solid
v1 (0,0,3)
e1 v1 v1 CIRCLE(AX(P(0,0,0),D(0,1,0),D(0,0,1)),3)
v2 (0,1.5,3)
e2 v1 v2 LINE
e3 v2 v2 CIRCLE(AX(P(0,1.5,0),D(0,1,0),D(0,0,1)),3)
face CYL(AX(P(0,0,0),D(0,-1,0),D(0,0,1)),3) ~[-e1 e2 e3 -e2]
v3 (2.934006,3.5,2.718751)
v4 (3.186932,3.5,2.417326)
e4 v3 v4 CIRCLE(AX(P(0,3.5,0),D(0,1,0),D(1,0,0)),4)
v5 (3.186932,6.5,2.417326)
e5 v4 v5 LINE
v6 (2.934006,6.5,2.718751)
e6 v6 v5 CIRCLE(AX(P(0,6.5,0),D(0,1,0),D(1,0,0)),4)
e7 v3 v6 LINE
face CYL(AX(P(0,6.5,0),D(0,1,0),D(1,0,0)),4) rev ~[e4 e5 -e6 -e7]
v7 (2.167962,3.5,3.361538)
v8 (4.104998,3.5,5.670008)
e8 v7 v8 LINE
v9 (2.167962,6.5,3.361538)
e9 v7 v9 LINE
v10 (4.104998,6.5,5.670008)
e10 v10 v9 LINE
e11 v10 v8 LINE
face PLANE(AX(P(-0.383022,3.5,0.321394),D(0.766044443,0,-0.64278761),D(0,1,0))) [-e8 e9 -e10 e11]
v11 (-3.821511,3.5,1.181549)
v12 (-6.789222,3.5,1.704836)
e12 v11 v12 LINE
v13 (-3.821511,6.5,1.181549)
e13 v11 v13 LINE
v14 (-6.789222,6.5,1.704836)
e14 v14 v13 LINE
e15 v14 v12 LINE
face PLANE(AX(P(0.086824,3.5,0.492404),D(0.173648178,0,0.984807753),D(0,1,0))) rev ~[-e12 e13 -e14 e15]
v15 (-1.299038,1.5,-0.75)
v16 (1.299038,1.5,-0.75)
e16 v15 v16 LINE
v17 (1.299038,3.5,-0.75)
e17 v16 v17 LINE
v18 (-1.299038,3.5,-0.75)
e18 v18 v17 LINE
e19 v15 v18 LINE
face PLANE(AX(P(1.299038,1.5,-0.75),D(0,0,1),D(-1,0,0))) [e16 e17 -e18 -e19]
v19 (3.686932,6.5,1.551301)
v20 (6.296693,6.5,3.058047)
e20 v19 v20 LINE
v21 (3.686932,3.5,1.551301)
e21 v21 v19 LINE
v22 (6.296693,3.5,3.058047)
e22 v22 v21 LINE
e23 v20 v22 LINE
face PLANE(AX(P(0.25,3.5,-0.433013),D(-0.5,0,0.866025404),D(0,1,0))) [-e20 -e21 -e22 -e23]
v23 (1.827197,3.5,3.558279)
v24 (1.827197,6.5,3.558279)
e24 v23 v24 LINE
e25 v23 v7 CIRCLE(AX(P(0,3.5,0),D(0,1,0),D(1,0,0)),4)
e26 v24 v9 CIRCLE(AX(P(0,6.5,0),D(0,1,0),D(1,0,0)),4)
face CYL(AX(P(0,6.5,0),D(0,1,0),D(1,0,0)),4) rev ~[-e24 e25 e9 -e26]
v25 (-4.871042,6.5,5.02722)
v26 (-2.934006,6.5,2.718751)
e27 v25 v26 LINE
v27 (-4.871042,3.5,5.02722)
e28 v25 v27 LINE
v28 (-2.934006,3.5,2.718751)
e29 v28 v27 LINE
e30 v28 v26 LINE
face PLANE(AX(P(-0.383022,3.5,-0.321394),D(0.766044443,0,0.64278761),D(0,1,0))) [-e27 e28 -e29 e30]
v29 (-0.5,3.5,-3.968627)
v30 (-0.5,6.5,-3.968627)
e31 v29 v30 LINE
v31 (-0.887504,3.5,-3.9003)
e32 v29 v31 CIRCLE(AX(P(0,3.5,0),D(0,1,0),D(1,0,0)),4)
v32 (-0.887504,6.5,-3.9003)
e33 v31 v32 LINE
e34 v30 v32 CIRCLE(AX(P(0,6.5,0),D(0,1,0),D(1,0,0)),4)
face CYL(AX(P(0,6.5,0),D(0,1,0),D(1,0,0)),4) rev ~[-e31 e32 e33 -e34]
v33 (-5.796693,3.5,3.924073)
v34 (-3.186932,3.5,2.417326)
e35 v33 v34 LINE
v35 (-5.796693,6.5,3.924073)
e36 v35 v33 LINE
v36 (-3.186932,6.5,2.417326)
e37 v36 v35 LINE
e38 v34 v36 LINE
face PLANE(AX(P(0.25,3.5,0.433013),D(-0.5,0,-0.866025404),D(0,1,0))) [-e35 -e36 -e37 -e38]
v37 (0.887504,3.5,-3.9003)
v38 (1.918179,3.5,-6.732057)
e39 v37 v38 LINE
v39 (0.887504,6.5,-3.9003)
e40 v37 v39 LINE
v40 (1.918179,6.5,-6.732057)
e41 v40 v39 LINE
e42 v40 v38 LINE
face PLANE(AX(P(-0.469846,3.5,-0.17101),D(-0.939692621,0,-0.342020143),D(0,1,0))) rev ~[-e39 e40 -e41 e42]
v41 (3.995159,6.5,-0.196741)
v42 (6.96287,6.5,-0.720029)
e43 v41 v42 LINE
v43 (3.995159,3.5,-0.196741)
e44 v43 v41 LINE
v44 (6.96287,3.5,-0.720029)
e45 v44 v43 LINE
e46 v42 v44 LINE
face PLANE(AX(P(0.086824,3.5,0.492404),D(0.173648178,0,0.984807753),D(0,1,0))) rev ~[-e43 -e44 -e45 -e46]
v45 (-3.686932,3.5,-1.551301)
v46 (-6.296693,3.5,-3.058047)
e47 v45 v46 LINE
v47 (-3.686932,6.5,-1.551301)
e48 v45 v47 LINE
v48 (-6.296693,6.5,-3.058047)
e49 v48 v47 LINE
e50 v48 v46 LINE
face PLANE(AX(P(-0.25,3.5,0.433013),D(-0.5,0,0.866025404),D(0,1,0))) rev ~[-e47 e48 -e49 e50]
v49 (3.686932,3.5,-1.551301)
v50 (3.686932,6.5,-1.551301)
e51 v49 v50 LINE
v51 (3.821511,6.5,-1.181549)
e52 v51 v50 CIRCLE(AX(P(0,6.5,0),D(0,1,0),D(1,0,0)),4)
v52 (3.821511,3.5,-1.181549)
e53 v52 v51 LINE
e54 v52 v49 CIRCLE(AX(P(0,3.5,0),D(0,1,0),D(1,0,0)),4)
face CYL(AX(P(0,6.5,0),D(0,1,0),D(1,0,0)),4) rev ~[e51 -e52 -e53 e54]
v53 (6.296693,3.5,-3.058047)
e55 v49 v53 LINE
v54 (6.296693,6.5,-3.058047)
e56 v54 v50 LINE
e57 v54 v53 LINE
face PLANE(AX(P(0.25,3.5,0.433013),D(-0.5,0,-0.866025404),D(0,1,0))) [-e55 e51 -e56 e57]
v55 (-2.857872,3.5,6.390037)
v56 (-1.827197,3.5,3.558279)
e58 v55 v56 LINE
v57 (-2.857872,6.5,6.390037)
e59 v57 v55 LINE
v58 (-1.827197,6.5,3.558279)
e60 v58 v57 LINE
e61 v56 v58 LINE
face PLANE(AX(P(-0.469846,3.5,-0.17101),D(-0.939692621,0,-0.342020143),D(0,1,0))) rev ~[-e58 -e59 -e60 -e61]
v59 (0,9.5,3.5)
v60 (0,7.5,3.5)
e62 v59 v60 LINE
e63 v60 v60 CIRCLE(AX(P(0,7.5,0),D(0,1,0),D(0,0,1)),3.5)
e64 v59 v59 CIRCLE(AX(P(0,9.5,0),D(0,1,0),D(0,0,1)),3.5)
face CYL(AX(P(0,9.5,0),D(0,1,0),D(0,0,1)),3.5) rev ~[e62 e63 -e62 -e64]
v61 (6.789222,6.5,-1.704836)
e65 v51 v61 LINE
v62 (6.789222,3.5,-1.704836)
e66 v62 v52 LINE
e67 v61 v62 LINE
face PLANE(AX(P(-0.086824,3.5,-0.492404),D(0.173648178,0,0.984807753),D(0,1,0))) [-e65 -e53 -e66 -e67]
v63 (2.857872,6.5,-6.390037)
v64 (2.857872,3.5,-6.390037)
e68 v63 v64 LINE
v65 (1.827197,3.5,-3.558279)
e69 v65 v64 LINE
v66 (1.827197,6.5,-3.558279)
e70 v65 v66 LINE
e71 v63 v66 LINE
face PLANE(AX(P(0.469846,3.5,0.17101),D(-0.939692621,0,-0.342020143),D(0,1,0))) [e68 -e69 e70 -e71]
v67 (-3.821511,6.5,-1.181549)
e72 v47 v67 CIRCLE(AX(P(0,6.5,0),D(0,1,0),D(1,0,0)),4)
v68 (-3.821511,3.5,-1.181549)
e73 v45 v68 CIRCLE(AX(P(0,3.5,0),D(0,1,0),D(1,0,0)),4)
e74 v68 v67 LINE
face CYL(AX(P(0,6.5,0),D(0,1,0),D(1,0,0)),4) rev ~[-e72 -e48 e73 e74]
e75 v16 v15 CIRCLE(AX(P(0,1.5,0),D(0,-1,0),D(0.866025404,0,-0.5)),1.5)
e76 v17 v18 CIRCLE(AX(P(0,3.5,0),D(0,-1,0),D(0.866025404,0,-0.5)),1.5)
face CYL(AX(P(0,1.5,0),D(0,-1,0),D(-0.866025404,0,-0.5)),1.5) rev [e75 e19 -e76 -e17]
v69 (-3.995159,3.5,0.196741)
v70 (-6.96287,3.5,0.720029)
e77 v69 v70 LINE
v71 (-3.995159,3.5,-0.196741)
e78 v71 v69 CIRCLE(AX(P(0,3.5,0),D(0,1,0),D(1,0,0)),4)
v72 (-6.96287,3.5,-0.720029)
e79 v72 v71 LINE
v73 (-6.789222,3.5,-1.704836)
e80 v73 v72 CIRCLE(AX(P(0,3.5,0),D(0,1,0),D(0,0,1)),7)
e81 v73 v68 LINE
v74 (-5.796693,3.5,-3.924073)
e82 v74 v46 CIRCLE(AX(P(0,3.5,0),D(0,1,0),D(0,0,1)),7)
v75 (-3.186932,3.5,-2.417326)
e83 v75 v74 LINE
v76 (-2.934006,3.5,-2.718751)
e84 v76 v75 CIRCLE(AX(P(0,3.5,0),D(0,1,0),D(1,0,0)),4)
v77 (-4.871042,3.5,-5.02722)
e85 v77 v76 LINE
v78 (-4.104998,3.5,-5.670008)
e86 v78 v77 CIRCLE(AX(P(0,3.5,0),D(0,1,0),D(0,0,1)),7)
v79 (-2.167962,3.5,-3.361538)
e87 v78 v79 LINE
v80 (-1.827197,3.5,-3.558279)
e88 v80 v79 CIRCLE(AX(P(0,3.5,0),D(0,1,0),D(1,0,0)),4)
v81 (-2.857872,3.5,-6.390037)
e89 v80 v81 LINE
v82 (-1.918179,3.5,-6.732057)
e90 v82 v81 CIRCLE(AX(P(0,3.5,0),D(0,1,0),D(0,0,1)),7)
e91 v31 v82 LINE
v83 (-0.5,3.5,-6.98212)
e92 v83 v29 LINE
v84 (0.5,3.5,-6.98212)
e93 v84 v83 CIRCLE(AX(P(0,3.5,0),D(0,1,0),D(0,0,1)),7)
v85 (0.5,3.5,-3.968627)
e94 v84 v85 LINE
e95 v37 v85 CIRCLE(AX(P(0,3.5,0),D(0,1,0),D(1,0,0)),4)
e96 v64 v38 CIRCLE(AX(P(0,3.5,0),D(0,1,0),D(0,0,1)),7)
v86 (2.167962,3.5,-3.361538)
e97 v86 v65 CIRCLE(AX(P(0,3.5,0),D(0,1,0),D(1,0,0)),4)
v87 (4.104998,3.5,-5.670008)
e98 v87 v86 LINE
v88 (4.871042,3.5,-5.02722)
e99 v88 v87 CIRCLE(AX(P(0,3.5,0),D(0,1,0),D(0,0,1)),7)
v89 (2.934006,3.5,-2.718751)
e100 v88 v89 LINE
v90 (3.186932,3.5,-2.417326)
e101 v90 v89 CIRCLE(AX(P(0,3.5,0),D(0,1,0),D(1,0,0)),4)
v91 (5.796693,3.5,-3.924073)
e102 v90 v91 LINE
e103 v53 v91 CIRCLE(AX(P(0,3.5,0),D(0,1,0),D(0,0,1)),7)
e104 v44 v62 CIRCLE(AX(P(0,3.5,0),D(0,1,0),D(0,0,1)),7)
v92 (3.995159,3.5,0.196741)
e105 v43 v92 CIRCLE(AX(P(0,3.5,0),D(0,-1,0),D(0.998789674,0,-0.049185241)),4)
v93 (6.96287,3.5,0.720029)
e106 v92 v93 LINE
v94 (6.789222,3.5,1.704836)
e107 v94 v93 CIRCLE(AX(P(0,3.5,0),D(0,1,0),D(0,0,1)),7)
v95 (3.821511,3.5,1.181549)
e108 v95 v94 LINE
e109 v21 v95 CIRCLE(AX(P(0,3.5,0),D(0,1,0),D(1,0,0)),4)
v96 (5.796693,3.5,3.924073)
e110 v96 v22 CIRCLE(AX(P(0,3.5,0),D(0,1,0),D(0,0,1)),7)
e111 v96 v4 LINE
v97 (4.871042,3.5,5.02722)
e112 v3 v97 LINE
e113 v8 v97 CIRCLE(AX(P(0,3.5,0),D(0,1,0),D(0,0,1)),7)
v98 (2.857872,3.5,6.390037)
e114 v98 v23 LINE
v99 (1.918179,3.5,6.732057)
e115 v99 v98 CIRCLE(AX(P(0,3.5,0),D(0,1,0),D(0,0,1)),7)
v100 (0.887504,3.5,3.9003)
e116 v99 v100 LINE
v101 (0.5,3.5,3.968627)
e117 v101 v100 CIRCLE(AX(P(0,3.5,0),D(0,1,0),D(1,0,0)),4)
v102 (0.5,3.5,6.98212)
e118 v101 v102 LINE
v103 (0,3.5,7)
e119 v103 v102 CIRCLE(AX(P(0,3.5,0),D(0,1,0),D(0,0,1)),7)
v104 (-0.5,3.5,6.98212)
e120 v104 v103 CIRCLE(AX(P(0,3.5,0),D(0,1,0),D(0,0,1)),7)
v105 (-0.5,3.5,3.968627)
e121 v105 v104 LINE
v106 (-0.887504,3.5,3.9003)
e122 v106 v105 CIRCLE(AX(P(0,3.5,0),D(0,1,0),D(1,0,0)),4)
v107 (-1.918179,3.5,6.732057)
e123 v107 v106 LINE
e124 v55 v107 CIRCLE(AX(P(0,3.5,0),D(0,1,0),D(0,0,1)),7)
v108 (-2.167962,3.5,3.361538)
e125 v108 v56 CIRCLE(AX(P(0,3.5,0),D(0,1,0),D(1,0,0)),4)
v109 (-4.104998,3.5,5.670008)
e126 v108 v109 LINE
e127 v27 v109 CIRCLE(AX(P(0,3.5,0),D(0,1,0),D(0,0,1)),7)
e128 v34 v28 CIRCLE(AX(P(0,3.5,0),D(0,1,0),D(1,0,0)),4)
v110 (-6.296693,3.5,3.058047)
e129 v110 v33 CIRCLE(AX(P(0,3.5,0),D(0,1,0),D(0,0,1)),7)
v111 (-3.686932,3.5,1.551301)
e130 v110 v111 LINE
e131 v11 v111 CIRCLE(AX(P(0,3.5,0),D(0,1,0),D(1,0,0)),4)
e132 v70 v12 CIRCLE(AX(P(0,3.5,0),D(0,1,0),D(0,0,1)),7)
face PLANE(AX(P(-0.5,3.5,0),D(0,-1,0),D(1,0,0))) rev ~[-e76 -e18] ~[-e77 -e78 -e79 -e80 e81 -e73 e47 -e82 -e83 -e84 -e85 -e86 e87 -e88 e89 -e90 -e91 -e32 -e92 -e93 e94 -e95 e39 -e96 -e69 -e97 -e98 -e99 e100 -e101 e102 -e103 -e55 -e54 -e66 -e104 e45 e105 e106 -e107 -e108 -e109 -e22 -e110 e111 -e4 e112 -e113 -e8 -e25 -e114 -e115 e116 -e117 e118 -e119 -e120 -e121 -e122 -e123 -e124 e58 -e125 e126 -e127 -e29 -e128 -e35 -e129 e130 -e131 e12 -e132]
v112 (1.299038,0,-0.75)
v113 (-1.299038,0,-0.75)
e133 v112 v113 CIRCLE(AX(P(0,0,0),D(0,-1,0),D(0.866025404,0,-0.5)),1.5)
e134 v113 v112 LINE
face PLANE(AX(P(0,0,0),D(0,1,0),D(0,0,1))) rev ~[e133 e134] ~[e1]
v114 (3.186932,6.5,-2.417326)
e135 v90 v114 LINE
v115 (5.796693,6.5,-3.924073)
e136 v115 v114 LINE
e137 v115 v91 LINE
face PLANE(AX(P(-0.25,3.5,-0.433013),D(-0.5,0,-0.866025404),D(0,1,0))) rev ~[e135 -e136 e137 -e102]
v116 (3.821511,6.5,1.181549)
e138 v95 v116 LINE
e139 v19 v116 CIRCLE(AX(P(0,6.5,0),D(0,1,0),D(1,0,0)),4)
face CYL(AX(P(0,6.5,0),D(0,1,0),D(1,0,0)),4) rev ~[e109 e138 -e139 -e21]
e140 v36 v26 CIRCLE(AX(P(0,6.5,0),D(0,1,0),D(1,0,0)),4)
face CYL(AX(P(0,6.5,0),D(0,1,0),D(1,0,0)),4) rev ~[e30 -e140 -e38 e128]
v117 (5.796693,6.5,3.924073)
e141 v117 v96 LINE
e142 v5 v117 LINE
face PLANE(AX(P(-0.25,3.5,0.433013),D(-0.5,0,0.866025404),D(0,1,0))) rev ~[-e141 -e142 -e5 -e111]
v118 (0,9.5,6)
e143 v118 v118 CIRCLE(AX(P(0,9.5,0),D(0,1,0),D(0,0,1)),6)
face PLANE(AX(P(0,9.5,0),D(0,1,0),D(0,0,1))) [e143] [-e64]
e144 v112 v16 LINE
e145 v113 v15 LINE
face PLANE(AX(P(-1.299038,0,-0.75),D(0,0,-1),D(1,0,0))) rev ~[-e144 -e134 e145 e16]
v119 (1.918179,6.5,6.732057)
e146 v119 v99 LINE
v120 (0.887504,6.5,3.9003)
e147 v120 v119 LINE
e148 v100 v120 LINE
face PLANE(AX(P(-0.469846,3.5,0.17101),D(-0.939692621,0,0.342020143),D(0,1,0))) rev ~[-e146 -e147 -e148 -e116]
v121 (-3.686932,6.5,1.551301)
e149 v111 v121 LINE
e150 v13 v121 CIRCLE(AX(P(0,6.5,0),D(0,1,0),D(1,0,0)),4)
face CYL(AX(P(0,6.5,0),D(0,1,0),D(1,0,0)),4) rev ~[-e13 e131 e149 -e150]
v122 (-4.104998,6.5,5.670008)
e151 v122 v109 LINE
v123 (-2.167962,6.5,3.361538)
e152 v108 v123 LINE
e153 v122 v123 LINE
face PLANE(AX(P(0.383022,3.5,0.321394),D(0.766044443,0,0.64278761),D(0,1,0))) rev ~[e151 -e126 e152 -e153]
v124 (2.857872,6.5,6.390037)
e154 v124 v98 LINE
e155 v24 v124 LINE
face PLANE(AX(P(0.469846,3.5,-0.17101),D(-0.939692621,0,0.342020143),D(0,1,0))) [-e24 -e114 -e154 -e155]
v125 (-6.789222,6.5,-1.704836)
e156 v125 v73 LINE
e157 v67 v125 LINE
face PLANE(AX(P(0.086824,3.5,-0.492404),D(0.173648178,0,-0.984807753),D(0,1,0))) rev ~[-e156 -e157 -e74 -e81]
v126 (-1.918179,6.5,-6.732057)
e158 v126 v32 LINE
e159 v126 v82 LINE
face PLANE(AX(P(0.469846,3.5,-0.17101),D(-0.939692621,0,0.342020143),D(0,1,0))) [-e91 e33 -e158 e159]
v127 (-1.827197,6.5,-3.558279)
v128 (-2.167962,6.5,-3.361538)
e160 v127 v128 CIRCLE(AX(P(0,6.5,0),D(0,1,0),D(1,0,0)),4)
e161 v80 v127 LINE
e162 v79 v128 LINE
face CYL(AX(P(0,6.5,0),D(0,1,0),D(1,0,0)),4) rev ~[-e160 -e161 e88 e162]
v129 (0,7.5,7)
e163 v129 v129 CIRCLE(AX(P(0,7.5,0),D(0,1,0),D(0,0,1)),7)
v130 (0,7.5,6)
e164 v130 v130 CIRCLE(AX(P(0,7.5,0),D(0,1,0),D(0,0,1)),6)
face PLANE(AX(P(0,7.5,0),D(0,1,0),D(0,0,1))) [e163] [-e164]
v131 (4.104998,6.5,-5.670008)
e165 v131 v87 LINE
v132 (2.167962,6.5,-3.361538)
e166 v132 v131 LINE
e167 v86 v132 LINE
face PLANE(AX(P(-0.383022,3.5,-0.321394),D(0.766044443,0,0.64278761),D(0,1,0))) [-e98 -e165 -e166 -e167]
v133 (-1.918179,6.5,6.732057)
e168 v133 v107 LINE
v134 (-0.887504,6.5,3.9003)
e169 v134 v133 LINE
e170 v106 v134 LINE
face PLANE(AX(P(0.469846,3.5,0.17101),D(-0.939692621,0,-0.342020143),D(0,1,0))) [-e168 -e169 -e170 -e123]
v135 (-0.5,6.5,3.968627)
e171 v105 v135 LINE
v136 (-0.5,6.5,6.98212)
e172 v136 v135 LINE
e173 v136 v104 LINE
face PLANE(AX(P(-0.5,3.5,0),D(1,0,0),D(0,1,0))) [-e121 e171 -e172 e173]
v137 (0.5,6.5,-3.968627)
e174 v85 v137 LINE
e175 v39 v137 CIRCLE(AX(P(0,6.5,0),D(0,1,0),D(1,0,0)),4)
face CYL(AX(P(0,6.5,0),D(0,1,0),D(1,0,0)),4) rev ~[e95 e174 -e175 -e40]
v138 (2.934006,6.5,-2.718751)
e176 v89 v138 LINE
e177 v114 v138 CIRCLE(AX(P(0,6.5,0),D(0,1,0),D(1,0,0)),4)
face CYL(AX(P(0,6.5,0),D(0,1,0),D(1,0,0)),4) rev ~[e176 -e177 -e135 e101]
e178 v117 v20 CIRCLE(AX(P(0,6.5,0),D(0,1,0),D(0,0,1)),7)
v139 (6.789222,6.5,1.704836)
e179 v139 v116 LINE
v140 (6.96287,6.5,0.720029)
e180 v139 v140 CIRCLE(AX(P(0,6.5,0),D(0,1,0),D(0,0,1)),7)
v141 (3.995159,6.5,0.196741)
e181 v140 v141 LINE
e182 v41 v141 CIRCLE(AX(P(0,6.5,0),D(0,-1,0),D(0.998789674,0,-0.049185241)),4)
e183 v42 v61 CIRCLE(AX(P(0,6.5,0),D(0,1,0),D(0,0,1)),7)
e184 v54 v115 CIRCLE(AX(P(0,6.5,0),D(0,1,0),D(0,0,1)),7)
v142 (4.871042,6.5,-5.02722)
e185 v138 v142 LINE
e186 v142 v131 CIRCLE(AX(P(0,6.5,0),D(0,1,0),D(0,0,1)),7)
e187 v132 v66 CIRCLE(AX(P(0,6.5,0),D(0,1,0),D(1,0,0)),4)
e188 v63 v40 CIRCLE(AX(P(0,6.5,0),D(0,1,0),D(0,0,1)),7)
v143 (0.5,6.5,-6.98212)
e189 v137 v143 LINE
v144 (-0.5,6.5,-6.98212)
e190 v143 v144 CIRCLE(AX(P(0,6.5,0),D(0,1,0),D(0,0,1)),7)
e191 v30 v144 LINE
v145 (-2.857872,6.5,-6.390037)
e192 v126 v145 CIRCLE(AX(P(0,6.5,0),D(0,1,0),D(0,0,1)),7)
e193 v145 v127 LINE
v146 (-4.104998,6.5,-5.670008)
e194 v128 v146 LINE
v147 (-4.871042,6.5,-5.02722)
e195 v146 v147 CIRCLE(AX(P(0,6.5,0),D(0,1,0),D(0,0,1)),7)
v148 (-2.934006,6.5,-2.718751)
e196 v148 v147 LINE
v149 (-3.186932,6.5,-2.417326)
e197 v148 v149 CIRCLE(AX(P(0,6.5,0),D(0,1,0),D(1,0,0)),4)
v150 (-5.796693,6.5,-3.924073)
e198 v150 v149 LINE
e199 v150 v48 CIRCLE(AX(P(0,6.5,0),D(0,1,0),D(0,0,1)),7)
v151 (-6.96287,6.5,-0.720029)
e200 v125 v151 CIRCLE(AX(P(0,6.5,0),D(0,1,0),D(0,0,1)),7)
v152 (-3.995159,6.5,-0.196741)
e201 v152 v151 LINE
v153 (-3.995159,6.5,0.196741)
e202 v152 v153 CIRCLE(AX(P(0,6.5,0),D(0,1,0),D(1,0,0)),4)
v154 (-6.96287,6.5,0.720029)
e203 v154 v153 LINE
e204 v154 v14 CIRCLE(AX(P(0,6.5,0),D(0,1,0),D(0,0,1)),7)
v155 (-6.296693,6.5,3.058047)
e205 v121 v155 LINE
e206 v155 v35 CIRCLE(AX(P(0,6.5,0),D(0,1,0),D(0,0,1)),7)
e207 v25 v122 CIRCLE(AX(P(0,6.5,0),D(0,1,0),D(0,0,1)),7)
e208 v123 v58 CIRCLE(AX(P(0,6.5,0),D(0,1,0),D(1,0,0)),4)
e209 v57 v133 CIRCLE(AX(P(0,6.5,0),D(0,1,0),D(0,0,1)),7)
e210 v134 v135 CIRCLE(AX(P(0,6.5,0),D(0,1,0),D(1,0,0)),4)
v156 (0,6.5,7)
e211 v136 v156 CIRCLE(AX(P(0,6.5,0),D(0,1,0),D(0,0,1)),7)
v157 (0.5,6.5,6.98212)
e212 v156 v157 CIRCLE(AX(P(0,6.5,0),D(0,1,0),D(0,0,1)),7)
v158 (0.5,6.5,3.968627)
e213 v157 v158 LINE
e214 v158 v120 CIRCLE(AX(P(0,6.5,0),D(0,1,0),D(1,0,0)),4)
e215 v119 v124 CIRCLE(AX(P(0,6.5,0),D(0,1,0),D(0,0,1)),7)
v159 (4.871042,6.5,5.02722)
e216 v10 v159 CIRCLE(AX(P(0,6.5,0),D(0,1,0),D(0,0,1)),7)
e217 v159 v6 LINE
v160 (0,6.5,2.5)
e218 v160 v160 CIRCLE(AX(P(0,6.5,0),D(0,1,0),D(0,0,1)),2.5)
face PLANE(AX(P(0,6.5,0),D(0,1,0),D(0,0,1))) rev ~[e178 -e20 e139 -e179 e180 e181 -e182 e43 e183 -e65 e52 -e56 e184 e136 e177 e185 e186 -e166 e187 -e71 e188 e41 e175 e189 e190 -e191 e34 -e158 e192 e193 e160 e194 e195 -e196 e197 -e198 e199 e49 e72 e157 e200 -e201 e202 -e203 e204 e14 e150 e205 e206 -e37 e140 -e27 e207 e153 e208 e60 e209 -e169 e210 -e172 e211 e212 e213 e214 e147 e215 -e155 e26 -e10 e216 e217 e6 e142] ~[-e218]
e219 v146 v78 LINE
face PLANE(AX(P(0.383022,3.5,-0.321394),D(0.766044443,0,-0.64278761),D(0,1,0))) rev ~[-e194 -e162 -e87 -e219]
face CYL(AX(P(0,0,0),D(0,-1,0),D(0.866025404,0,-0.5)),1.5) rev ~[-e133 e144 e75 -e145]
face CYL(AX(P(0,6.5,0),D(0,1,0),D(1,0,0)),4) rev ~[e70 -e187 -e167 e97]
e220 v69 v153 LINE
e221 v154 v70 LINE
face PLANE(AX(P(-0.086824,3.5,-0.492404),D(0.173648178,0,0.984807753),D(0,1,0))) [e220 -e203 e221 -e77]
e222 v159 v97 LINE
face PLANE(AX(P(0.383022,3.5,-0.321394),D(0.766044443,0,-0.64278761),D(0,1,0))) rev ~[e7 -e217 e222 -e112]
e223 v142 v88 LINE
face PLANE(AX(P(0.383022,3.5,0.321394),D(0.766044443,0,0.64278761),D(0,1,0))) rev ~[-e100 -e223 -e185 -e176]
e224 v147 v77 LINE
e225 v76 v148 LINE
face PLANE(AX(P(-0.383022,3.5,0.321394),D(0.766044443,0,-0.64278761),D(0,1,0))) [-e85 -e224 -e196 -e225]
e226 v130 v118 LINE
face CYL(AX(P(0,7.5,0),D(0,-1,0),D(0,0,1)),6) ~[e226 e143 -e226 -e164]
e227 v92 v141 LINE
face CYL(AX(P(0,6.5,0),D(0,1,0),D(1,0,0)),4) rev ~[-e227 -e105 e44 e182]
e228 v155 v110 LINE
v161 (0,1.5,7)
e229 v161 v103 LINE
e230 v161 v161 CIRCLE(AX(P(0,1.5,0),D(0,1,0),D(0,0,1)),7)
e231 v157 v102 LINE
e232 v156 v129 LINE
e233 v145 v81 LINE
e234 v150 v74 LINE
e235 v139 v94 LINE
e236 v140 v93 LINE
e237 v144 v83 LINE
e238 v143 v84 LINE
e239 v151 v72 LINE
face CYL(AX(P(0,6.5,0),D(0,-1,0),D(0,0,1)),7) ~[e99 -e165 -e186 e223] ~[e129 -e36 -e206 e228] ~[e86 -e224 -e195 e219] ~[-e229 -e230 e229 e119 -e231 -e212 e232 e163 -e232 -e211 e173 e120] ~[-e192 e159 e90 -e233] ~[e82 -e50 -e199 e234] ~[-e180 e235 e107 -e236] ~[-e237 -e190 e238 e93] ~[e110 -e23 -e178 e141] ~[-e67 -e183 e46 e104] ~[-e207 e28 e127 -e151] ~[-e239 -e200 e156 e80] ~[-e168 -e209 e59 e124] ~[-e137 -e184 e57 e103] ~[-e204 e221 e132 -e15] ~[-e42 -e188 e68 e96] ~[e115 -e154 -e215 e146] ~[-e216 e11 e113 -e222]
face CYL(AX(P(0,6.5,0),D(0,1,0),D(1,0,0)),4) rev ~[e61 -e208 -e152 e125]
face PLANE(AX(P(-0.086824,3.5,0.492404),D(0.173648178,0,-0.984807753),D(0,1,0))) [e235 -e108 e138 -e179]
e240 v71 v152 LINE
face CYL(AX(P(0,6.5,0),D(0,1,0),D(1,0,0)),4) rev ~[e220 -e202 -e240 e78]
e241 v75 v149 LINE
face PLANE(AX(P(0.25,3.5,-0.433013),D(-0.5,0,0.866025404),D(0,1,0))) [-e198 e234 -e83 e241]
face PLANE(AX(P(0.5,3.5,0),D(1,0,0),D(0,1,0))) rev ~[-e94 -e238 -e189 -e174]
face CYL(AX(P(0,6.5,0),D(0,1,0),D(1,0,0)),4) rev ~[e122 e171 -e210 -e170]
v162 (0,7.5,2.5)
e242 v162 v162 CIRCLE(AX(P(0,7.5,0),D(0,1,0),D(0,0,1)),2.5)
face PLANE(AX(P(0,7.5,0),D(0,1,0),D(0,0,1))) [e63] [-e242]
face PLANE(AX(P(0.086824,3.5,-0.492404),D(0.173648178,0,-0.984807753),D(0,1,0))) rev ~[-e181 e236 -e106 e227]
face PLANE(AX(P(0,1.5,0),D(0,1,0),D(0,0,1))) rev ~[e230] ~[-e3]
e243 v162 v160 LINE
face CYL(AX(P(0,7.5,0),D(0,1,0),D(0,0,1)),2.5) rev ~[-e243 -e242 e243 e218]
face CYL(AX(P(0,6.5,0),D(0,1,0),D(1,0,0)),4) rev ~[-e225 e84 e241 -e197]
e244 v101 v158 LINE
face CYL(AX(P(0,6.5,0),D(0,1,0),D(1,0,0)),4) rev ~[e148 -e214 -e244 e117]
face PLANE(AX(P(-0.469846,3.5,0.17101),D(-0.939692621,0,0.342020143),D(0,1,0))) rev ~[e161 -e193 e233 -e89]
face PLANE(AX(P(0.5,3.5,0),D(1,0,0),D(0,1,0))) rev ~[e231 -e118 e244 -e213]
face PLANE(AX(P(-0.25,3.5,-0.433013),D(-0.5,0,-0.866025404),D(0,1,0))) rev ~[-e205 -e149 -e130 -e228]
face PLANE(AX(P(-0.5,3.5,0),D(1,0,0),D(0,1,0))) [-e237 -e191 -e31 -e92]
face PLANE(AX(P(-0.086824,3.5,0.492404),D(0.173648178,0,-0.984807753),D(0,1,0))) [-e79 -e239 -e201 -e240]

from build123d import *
from build123d.topology import SkipClean

# Parameters (mm, degrees)
SKETCH_1_R               = 3
EXTRUDE_1_DEPTH          = 1.5
SKETCH_2_R               = 7
EXTRUDE_2_DEPTH          = 2
SKETCH_3_R               = 7
EXTRUDE_3_DEPTH          = 3
SKETCH_4_W               = 1
SKETCH_4_H               = 3
CUT_EXTRUDE_1_DEPTH      = 12.842719282
PATTERN_CIRCULAR_1_COUNT = 9
SKETCH_8_R               = 4
CUT_EXTRUDE_3_DEPTH      = 3
SKETCH_5_R               = 7
EXTRUDE_4_DEPTH          = 1
SKETCH_6_R               = 6
EXTRUDE_5_DEPTH          = 2
SKETCH_7_R               = 3.5
CUT_EXTRUDE_2_DEPTH      = 2
SKETCH_9_R               = 2.5
CUT_EXTRUDE_4_DEPTH      = 1


with BuildPart() as part:
    # 草图1 → 凸台-拉伸1 (new body)
    with BuildSketch(Plane(origin=(0, 0, 0), x_dir=(1, 0, 0), z_dir=(0, 1, 0))):
        with Locations(Location((0, 0, 0), (0, 0, 270))):
            Circle(SKETCH_1_R)
        with BuildLine():
            Line((-1.299038106, 0.75), (1.299038106, 0.75))
            ThreePointArc((1.299038106, 0.75), (0, -1.5), (-1.299038106, 0.75))
        make_face(mode=Mode.SUBTRACT)
    extrude(amount=EXTRUDE_1_DEPTH)

    # 草图2 → 凸台-拉伸2 (add)
    with SkipClean():  # the faces are left unmerged after this step: merging them gives an invalid solid
        with BuildSketch(Plane(origin=(0, 1.5, 0), x_dir=(1, 0, 0), z_dir=(0, 1, 0))):
            with Locations(Location((0, 0, 0), (0, 0, 270))):
                Circle(SKETCH_2_R)
            with BuildLine():
                Line((1.299038106, 0.75), (-1.299038106, 0.75))
                ThreePointArc((-1.299038106, 0.75), (0, -1.5), (1.299038106, 0.75))
            make_face(mode=Mode.SUBTRACT)
        extrude(amount=EXTRUDE_2_DEPTH)

    # 草图3 → 凸台-拉伸3 (add)
    with SkipClean():  # the faces are left unmerged after this step: merging them gives an invalid solid
        with BuildSketch(Plane(origin=(0, 3.5, 0), x_dir=(1, 0, 0), z_dir=(0, 1, 0))):
            with Locations(Location((0, 0, 0), (0, 0, 270))):
                Circle(SKETCH_3_R)
        extrude(amount=EXTRUDE_3_DEPTH)

    # 草图4 → 切除-拉伸1 (cut, symmetric)
    with SkipClean():  # the faces are left unmerged after this step: merging them gives an invalid solid
        with BuildSketch(Plane.XY):
            with Locations((0, 5)):
                Rectangle(SKETCH_4_W, SKETCH_4_H)
        cut_extrude_1 = extrude(amount=CUT_EXTRUDE_1_DEPTH, both=True, mode=Mode.SUBTRACT)

    # 阵列(圆周)1: 切除-拉伸1 ×9 about axis
    with SkipClean():  # the faces are left unmerged after this step: merging them gives an invalid solid
        pattern_circular_1_axis = Axis((0, 0, 0), (0, 1, 0))
        for i in range(1, PATTERN_CIRCULAR_1_COUNT):
            add(cut_extrude_1.rotate(pattern_circular_1_axis, i * 360 / PATTERN_CIRCULAR_1_COUNT), mode=Mode.SUBTRACT)

    # 草图8 → 切除-拉伸3 (cut)
    with SkipClean():  # the faces are left unmerged after this step: merging them gives an invalid solid
        with BuildSketch(Plane(origin=(0, 6.5, 0), x_dir=(1, 0, 0), z_dir=(0, 1, 0))):
            Circle(SKETCH_8_R)
        extrude(amount=-CUT_EXTRUDE_3_DEPTH, mode=Mode.SUBTRACT)

    # 草图5 → 凸台-拉伸4 (add)
    with BuildSketch(Plane(origin=(0, 6.5, 0), x_dir=(1, 0, 0), z_dir=(0, 1, 0))):
        with Locations(Location((0, 0, 0), (0, 0, 270))):
            Circle(SKETCH_5_R)
    extrude(amount=EXTRUDE_4_DEPTH)

    # 草图6 → 凸台-拉伸5 (add)
    with BuildSketch(Plane(origin=(0, 7.5, 0), x_dir=(1, 0, 0), z_dir=(0, 1, 0))):
        with Locations(Location((0, 0, 0), (0, 0, 270))):
            Circle(SKETCH_6_R)
    extrude(amount=EXTRUDE_5_DEPTH)

    # 草图7 → 切除-拉伸2 (cut)
    with BuildSketch(Plane(origin=(0, 9.5, 0), x_dir=(1, 0, 0), z_dir=(0, 1, 0))):
        with Locations(Location((0, 0, 0), (0, 0, 270))):
            Circle(SKETCH_7_R)
    extrude(amount=-CUT_EXTRUDE_2_DEPTH, mode=Mode.SUBTRACT)

    # 草图9 → 切除-拉伸4 (cut)
    with BuildSketch(Plane(origin=(0, 7.5, 0), x_dir=(1, 0, 0), z_dir=(0, 1, 0))):
        with Locations(Location((0, 0, 0), (0, 0, 270))):
            Circle(SKETCH_9_R)
    extrude(amount=-CUT_EXTRUDE_4_DEPTH, mode=Mode.SUBTRACT)


solid = part.part
